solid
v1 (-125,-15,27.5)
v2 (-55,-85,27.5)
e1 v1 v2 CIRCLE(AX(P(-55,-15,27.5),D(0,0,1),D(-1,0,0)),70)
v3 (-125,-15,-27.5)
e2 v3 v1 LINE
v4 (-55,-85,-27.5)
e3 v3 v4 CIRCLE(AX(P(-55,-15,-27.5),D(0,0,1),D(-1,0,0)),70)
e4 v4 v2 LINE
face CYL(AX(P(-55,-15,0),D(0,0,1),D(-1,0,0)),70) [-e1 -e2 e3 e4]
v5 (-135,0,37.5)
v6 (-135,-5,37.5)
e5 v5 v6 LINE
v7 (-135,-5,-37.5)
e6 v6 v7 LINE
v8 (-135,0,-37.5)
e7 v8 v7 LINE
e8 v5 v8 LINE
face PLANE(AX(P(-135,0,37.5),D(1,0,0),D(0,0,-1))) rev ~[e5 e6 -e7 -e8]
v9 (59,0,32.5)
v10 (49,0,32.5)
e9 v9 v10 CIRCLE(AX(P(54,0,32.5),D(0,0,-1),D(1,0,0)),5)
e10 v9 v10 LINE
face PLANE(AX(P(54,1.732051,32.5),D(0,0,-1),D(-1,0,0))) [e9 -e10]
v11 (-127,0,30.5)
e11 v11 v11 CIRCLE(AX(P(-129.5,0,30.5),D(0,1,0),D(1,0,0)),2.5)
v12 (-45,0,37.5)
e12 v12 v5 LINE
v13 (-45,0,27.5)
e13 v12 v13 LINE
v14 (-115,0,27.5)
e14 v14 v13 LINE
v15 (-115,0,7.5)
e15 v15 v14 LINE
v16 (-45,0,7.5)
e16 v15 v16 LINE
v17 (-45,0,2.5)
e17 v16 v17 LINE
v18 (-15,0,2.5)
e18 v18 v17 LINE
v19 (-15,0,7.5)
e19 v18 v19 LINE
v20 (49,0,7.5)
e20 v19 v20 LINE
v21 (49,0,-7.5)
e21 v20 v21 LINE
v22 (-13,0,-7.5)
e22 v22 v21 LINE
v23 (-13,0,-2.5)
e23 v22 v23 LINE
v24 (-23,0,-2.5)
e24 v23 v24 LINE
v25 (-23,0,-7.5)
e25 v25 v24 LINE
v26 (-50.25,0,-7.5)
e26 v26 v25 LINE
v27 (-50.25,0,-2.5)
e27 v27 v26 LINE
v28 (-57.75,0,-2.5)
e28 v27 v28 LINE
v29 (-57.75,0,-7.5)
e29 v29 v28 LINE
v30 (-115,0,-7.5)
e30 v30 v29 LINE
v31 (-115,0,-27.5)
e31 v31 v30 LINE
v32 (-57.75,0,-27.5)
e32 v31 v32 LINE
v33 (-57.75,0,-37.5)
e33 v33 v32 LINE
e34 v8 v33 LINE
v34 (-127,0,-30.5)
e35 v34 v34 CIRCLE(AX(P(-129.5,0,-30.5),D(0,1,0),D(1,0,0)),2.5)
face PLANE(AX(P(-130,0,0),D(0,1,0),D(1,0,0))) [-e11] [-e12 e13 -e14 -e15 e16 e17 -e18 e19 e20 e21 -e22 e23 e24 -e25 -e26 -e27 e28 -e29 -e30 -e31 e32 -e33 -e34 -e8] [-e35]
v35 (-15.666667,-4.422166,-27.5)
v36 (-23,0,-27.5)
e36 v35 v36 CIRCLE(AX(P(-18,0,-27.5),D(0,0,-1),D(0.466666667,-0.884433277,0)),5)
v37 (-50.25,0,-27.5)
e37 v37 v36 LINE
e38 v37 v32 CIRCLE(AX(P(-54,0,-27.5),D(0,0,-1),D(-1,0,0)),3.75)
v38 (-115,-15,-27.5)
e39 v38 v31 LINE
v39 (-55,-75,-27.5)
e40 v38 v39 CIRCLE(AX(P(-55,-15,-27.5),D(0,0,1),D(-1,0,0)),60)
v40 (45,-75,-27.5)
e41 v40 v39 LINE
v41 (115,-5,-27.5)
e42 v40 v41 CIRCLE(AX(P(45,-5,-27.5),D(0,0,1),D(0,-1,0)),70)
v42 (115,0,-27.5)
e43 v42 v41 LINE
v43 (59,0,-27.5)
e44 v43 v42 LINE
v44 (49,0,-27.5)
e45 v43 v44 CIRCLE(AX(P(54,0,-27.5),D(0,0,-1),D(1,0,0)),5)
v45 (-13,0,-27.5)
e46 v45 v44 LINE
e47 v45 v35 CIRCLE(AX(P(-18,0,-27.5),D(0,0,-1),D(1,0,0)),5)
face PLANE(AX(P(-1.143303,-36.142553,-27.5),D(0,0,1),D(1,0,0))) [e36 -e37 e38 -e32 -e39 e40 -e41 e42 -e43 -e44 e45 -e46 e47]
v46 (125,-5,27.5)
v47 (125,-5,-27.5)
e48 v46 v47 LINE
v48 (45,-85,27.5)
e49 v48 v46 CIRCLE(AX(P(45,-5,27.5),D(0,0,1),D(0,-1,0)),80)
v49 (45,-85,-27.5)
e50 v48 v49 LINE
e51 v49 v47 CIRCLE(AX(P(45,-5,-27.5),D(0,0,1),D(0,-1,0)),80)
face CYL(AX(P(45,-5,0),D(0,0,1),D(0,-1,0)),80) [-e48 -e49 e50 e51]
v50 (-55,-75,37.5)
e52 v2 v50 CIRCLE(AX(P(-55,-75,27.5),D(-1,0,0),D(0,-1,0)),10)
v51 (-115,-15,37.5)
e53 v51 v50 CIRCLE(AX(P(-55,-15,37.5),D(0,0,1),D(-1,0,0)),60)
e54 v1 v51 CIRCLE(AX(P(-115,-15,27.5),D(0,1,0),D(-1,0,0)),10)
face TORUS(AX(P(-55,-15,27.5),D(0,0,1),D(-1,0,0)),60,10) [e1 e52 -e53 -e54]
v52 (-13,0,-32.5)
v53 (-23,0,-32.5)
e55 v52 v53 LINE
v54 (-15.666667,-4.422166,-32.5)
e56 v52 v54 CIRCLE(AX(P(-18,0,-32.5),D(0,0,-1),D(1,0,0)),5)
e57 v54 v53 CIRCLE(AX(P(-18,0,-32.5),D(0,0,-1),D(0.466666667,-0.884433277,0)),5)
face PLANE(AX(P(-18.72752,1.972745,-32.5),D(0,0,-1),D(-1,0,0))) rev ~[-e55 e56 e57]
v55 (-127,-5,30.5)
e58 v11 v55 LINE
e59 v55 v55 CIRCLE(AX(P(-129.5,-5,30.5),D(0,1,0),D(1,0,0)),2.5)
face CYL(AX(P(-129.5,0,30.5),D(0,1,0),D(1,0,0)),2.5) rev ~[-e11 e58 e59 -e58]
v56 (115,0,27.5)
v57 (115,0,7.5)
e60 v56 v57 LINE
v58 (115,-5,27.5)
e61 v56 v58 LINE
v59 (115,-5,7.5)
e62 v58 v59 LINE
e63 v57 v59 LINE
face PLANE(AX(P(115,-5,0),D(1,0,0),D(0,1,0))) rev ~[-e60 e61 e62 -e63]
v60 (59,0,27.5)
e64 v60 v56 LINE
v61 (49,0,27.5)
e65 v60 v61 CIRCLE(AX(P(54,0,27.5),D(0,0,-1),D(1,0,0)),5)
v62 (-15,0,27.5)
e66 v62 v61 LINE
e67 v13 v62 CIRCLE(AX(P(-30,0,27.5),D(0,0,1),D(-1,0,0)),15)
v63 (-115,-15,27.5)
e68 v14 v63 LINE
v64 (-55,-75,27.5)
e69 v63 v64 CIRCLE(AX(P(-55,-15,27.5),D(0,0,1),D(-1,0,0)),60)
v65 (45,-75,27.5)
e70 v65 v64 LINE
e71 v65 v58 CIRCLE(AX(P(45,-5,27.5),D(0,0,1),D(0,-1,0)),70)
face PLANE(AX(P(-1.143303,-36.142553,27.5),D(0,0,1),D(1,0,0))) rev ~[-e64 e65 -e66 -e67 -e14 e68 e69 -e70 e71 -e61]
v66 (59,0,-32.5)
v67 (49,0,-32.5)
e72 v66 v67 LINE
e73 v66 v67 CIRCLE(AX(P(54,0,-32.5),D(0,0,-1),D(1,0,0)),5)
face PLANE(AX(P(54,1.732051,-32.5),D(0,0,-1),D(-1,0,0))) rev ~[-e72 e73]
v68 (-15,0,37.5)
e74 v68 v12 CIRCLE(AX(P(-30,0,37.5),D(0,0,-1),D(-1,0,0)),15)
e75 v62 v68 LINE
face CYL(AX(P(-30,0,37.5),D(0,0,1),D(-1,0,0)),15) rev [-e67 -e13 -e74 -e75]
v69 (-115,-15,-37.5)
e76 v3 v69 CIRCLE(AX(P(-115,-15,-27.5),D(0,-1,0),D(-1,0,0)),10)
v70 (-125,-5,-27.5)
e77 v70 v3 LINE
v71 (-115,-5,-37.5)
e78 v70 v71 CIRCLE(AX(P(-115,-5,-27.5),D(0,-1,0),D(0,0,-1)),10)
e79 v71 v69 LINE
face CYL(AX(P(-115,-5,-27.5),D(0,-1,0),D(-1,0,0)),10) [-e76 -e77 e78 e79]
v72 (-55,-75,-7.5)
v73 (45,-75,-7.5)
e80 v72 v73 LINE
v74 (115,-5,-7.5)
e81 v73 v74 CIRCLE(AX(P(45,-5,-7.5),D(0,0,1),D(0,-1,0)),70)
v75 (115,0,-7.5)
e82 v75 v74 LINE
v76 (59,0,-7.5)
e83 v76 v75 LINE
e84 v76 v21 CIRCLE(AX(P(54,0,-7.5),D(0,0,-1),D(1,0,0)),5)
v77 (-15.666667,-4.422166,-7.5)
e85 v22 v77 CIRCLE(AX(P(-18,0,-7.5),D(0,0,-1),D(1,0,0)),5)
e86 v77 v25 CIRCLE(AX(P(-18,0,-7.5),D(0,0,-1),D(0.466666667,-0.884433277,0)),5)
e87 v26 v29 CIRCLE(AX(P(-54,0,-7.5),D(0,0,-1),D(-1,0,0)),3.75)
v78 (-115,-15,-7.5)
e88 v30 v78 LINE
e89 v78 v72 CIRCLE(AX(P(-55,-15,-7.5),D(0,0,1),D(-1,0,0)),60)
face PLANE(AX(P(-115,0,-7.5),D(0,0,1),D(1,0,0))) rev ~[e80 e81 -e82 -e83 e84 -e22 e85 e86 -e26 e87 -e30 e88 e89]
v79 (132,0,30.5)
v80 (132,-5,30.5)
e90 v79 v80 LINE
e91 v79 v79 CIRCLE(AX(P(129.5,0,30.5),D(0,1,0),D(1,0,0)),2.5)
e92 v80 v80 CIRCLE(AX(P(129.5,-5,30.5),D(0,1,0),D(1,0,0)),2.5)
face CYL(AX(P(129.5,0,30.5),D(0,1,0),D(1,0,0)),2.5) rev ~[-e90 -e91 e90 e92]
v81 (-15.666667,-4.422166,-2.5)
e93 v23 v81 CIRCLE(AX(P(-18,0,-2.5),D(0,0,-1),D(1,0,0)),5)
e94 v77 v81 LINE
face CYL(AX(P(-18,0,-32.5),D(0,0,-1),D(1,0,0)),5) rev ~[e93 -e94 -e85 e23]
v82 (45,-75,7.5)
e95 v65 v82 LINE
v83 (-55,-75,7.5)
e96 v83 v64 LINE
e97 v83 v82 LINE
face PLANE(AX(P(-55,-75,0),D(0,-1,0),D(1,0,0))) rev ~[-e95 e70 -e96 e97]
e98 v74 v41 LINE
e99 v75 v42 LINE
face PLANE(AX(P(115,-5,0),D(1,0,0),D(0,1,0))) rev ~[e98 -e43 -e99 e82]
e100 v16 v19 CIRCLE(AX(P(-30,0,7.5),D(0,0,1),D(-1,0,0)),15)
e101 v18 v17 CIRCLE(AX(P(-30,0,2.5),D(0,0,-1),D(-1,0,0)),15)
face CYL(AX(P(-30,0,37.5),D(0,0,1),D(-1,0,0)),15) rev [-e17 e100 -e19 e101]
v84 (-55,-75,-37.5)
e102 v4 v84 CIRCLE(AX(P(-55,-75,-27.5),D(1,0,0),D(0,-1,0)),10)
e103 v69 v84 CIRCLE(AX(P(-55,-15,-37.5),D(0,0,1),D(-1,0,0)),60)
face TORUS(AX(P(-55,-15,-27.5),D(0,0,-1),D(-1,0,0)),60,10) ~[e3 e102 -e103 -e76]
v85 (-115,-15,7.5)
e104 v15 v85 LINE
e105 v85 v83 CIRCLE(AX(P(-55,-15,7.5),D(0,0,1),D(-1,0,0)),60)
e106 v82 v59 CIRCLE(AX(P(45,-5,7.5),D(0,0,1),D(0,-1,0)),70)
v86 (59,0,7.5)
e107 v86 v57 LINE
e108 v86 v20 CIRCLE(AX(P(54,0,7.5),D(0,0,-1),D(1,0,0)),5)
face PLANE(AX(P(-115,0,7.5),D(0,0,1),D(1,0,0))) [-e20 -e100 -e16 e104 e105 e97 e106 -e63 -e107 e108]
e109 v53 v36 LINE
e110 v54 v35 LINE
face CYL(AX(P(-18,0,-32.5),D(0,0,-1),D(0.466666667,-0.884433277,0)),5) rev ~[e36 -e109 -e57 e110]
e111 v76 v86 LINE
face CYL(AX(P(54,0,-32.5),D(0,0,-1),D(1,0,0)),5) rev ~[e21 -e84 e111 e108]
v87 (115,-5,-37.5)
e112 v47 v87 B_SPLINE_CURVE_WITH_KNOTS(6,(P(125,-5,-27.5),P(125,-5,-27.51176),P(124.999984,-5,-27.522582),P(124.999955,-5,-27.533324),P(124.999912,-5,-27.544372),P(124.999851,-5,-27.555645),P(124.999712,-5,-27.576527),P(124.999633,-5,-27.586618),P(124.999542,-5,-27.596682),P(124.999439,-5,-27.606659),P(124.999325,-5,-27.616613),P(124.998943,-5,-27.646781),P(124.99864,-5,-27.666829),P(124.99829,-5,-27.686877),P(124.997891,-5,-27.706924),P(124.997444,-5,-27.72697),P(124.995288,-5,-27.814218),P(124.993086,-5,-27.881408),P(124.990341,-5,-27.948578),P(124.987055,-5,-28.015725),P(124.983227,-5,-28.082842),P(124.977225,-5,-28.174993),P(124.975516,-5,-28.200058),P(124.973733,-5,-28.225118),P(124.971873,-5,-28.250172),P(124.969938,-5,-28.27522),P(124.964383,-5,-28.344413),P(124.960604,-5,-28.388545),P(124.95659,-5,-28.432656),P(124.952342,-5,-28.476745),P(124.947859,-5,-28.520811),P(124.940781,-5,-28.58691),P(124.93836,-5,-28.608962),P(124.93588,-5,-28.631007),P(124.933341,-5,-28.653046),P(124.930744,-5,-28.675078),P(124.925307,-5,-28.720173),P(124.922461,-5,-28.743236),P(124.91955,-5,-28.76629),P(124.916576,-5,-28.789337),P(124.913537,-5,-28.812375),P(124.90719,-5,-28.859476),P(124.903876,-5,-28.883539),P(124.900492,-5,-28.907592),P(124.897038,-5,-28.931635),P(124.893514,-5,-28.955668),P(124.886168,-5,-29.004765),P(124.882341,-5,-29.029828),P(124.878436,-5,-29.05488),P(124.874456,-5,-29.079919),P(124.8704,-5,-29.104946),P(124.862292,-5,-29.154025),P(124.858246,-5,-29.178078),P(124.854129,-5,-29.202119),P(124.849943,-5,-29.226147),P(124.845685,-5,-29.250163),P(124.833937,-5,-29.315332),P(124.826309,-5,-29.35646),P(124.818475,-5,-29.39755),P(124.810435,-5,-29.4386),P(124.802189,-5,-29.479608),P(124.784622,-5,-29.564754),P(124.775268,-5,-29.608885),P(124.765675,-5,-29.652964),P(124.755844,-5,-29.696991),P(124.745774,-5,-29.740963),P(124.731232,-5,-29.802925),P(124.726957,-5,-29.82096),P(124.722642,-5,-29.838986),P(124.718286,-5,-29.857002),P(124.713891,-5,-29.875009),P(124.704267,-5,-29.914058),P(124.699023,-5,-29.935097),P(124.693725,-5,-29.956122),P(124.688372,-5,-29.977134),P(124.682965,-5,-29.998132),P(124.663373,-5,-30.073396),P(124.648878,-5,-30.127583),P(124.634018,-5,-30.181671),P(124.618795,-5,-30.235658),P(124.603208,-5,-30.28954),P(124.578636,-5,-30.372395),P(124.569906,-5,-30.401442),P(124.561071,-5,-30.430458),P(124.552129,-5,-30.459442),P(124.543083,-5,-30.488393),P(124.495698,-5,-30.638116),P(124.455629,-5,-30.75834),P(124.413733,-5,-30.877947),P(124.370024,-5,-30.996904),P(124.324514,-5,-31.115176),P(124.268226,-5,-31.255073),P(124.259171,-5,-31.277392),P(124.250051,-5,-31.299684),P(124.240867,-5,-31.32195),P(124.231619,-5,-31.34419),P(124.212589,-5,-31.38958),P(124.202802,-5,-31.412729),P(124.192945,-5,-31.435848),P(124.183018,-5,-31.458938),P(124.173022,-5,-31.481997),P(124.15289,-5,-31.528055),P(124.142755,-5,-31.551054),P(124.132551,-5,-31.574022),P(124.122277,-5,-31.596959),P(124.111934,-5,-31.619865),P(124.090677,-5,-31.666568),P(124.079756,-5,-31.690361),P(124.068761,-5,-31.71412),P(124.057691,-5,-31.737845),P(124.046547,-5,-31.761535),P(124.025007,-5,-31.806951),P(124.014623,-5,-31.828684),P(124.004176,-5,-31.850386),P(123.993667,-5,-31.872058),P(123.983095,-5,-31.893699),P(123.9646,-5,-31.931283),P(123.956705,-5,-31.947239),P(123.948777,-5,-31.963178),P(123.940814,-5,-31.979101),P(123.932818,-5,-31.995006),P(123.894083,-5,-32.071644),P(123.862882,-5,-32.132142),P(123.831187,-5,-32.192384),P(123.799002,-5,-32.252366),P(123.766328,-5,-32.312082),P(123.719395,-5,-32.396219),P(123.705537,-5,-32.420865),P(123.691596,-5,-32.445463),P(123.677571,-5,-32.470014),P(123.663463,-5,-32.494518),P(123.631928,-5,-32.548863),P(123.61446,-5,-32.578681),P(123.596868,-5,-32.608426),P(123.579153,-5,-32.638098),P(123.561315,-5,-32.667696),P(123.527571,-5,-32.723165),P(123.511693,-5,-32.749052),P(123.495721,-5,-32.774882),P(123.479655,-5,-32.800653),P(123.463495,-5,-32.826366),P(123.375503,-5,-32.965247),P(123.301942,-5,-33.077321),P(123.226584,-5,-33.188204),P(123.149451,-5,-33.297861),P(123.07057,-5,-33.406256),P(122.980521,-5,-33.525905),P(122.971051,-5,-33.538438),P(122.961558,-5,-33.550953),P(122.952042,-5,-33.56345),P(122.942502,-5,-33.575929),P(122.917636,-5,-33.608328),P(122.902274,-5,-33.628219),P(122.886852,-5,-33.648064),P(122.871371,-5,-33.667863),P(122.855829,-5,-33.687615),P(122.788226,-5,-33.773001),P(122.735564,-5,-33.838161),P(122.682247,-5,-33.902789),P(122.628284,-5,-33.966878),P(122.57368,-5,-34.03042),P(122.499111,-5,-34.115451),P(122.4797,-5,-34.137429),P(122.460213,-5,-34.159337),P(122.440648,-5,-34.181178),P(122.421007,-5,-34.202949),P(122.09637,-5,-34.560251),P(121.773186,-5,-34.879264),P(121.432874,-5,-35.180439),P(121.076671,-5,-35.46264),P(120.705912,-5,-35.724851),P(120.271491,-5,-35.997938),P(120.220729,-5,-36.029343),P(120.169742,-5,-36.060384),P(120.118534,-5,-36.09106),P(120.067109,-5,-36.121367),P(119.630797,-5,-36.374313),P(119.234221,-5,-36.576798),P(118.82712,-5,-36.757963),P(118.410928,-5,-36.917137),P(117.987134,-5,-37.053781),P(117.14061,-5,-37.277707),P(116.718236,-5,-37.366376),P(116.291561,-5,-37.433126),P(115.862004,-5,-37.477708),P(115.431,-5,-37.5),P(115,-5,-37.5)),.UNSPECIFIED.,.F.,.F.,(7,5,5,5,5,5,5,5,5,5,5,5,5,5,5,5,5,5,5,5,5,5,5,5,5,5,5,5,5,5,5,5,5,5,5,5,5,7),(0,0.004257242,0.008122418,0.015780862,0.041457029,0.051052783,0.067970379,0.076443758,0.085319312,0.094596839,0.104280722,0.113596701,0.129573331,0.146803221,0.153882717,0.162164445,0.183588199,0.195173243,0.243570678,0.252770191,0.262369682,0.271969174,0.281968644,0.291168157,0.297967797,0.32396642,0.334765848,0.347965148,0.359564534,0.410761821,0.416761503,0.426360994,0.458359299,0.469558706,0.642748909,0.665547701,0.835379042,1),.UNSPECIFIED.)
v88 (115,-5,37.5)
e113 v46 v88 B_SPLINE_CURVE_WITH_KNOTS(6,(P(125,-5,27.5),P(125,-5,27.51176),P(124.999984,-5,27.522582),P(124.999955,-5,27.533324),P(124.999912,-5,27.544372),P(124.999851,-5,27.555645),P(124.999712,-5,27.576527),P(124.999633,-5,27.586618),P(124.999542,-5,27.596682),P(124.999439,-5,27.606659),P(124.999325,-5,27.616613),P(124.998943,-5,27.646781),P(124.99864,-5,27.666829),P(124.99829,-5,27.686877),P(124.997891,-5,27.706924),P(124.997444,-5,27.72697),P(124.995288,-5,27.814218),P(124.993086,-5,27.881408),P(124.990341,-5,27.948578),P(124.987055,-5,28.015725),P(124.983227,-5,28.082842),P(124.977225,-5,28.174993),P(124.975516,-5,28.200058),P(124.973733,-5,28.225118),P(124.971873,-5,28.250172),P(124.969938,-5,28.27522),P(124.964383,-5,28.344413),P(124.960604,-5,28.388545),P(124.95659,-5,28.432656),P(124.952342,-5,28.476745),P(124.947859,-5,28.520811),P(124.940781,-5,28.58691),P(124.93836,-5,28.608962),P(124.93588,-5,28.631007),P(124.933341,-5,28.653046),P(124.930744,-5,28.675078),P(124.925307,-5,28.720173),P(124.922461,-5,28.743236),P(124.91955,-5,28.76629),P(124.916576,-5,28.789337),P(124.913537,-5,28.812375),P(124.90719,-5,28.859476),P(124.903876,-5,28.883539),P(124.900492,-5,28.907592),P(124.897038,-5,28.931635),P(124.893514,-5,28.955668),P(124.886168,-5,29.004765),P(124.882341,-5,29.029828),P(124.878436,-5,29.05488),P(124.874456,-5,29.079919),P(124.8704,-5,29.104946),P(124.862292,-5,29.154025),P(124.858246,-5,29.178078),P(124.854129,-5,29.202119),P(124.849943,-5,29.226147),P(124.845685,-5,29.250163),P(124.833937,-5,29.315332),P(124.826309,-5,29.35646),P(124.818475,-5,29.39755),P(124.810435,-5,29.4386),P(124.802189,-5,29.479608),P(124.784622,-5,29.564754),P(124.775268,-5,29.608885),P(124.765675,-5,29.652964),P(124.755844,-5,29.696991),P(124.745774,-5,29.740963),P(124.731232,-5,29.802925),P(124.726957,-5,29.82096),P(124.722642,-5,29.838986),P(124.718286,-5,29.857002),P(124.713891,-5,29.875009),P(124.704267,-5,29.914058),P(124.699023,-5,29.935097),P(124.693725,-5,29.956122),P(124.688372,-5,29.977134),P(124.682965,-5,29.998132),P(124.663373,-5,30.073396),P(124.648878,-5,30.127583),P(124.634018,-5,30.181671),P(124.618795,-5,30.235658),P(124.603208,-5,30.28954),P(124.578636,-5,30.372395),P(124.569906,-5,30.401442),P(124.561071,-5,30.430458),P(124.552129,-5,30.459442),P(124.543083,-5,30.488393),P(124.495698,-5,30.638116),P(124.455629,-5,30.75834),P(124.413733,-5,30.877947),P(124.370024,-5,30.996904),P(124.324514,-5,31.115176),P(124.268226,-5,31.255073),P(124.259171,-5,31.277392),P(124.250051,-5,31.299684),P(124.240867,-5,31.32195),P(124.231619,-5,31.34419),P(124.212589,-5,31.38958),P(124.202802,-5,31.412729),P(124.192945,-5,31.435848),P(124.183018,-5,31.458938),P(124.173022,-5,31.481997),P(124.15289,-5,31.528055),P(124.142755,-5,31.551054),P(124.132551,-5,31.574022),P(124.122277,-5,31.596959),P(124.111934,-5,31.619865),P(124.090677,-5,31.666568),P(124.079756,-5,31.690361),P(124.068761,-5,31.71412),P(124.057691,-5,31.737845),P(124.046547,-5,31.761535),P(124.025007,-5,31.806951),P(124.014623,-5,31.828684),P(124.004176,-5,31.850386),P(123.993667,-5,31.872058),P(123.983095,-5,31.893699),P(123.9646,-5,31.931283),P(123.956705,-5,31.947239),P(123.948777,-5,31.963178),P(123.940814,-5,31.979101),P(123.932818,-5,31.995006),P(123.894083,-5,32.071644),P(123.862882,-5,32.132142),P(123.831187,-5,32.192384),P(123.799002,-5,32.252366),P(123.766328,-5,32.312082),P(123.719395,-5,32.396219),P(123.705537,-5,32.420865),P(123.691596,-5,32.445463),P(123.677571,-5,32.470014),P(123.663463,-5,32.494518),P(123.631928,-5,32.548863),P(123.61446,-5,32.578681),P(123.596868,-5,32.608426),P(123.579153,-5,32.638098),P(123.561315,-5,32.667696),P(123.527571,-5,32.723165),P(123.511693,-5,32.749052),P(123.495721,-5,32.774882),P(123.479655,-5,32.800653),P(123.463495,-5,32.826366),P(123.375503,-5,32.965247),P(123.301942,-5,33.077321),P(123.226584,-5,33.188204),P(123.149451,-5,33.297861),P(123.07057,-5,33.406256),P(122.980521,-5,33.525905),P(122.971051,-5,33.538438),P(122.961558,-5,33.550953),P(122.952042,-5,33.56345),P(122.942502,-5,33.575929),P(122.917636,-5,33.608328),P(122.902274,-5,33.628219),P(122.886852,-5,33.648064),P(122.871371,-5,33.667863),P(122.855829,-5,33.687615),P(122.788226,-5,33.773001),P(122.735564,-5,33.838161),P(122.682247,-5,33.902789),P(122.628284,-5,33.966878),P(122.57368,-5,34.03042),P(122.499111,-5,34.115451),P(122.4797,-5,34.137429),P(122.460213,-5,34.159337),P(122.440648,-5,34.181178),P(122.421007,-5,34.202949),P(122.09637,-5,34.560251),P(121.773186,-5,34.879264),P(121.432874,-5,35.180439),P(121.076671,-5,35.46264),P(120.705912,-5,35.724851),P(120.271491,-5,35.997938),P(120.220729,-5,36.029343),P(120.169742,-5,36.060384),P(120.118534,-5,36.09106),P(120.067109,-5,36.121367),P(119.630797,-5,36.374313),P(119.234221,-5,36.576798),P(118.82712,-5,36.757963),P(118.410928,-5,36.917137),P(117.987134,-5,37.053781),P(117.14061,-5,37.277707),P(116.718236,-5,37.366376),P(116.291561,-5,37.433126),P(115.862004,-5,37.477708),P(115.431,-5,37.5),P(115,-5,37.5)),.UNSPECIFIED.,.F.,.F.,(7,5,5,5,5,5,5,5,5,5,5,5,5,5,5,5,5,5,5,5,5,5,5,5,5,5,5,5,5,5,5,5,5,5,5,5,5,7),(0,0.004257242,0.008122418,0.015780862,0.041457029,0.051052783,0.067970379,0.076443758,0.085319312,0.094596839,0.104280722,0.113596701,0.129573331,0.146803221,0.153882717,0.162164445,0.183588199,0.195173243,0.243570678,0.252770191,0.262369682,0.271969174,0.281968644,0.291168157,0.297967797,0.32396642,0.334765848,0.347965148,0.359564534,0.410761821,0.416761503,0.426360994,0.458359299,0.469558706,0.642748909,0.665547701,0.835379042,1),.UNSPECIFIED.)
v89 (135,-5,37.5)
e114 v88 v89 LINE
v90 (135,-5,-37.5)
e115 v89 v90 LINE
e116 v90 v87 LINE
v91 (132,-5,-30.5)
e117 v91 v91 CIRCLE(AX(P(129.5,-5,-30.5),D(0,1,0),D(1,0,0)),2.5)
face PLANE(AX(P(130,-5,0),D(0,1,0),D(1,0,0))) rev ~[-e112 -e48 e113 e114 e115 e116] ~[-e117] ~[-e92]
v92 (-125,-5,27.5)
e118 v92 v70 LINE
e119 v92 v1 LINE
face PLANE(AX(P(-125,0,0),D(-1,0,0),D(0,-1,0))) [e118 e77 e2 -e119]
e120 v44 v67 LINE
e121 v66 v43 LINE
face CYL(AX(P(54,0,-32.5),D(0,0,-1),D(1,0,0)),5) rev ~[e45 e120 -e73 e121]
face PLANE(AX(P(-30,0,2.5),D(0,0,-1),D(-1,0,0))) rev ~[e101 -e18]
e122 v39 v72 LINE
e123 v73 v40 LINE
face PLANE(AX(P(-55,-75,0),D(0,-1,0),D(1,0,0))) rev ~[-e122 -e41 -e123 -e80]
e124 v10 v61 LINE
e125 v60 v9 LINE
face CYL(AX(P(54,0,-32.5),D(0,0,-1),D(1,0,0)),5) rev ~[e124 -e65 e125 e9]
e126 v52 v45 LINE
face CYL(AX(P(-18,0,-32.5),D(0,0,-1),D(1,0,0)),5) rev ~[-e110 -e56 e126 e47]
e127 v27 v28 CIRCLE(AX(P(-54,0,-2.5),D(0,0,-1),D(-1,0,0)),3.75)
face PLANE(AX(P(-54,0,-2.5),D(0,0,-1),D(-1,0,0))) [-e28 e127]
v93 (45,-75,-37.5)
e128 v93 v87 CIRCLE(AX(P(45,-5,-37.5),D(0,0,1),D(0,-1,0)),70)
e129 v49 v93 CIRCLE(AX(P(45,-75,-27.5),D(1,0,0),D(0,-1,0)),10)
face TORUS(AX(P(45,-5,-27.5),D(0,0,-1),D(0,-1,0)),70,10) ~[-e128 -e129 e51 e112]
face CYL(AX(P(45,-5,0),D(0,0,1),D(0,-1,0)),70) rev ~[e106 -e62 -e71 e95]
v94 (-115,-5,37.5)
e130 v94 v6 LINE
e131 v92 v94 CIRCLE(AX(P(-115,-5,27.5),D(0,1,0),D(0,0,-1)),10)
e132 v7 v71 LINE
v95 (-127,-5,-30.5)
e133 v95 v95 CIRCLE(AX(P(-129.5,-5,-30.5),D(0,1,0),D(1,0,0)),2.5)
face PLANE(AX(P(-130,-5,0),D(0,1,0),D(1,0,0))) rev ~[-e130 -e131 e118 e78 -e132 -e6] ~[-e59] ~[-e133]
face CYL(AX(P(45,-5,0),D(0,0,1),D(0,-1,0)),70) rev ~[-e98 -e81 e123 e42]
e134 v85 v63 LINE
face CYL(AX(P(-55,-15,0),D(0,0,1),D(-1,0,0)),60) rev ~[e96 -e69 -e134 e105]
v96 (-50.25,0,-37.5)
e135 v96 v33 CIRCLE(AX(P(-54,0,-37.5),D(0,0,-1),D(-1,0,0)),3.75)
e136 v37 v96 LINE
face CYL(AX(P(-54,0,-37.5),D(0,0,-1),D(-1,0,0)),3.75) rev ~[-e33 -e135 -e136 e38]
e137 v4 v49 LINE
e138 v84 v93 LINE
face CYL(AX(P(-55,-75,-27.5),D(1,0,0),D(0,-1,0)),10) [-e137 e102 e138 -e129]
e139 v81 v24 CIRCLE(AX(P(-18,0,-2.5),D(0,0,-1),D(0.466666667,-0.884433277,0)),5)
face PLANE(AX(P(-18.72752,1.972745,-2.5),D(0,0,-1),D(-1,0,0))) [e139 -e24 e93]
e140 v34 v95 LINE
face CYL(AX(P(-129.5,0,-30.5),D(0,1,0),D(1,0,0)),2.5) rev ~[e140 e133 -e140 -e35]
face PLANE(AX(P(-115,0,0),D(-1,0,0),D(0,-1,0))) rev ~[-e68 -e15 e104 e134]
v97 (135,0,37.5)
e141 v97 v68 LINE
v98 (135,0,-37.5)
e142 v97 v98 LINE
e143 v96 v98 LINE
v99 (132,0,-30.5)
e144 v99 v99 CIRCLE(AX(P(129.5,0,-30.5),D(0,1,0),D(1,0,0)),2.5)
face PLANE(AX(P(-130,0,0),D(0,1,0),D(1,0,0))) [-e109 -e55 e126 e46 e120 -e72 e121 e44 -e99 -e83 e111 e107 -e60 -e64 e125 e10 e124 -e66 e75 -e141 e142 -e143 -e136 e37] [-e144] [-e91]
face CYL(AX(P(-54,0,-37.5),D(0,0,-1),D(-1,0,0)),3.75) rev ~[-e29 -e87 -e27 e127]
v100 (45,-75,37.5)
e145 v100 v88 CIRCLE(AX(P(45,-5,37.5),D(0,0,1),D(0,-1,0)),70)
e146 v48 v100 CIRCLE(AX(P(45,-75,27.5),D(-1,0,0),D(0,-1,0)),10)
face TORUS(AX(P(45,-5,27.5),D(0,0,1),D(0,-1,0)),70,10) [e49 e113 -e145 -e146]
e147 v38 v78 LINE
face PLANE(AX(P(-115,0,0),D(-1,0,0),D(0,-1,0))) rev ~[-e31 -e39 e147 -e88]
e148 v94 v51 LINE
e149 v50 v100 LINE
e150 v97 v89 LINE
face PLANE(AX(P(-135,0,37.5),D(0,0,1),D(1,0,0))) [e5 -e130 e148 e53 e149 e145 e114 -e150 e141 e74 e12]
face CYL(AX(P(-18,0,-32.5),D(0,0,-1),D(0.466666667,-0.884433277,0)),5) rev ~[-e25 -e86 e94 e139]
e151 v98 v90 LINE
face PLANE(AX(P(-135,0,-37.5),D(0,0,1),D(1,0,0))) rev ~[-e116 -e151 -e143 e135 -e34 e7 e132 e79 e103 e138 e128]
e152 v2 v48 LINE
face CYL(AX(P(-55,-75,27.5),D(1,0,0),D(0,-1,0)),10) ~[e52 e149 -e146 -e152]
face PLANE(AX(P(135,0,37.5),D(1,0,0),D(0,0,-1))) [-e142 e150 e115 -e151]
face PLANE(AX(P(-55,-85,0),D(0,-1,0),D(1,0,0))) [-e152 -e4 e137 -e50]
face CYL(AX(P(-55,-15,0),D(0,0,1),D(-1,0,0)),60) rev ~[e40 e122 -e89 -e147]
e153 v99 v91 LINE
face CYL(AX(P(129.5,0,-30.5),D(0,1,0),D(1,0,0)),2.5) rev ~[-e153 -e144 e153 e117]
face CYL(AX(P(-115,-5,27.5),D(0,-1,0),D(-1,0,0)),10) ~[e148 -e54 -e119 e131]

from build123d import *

# Parameters (mm, degrees)
BOSS_EXTRUDE1_DEPTH     = 37.5
SHELL1_T                = -10
SKETCH2_W               = 230
SKETCH2_H               = 15
BOSS_EXTRUDE3_DEPTH     = 75
SKETCH1_4_OUTSIDE_W     = 306.9
SKETCH1_4_OUTSIDE_H     = 141.9
CUT_EXTRUDE2_DEPTH      = 38.5
CUT_EXTRUDE2_DEPTH_BACK = 38.5
SKETCH4_W               = 10
SKETCH4_H               = 75
SKETCH4_R               = 2.5
BOSS_EXTRUDE4_DEPTH     = 5
FILLET1_R               = 10
SKETCH3_R               = 3.75
CUT_EXTRUDE3_DEPTH      = 35
CUT_EXTRUDE4_START      = -75
SKETCH3_13_R            = 15
CUT_EXTRUDE4_DEPTH      = 35
CUT_EXTRUDE5_START      = -5
CUT_EXTRUDE5_DEPTH      = 65
CUT_EXTRUDE6_START      = -5
CUT_EXTRUDE6_DEPTH      = 30


with BuildPart() as part:
    # Sketch1 → Boss-Extrude1 (new body, symmetric)
    with BuildSketch(Plane.XY):
        with BuildLine():
            Line((125, 0), (-125, 0))
            Line((-125, 0), (-125, -15))
            ThreePointArc((-125, -15), (-104.497474683, -64.497474683), (-55, -85))
            Line((-55, -85), (45, -85))
            ThreePointArc((45, -85), (101.568542495, -61.568542495), (125, -5))
            Line((125, -5), (125, 0))
        make_face()
    extrude(amount=BOSS_EXTRUDE1_DEPTH, both=True)

    # Shell1
    shell1_openings = [part.faces().sort_by_distance(p)[0] for p in [
        (0, 0, 0),
    ]]
    offset(amount=SHELL1_T, openings=shell1_openings, kind=Kind.INTERSECTION)

    # Sketch2 → Boss-Extrude3 (add)
    with BuildSketch(Plane(origin=(0, 0, 0), x_dir=(1, 0, 0), z_dir=(0, 1, 0))):
        Rectangle(SKETCH2_W, SKETCH2_H)
    extrude(amount=-BOSS_EXTRUDE3_DEPTH)

    # Sketch1<4> outside → Cut-Extrude2 (cut, two sides)
    with BuildSketch(Plane.XY) as cut_extrude2_sk:
        with Locations((0, -42.5)):
            Rectangle(SKETCH1_4_OUTSIDE_W, SKETCH1_4_OUTSIDE_H)
        with BuildLine():
            Line((125, 0), (-125, 0))
            Line((-125, 0), (-125, -15))
            ThreePointArc((-125, -15), (-104.497474683, -64.497474683), (-55, -85))
            Line((-55, -85), (45, -85))
            ThreePointArc((45, -85), (101.568542495, -61.568542495), (125, -5))
            Line((125, -5), (125, 0))
        make_face(mode=Mode.SUBTRACT)
    extrude(amount=CUT_EXTRUDE2_DEPTH, mode=Mode.SUBTRACT)
    extrude(cut_extrude2_sk.sketch, amount=-CUT_EXTRUDE2_DEPTH_BACK, mode=Mode.SUBTRACT)

    # Sketch4 → Boss-Extrude4 (add)
    with BuildSketch(Plane(origin=(0, 0, 0), x_dir=(1, 0, 0), z_dir=(0, 1, 0))):
        with Locations((-130, 0)):
            Rectangle(SKETCH4_W, SKETCH4_H)
        with Locations((-129.5, -30.5)):
            Circle(SKETCH4_R, mode=Mode.SUBTRACT)
        with Locations((-129.5, 30.5)):
            Circle(SKETCH4_R, mode=Mode.SUBTRACT)
        with Locations((130, 0)):
            Rectangle(SKETCH4_W, SKETCH4_H)
        with Locations((129.5, 30.5)):
            Circle(SKETCH4_R, mode=Mode.SUBTRACT)
        with Locations((129.5, -30.5)):
            Circle(SKETCH4_R, mode=Mode.SUBTRACT)
    extrude(amount=-BOSS_EXTRUDE4_DEPTH)

    # Fillet1
    fillet1_edges = [part.edges().sort_by_distance(p)[0] for p in [
        (-125, -10, -37.5),
        (-125, -10, 37.5),
        (-5, -85, 37.5),
        (-104.497474683, -64.497474683, 37.5),
        (-104.497474683, -64.497474683, -37.5),
        (-5, -85, -37.5),
        (101.568542495, -61.568542495, -37.5),
        (101.568542495, -61.568542495, 37.5),
    ]]
    fillet(fillet1_edges, radius=FILLET1_R)

    # Sketch3 → Cut-Extrude3 (cut)
    with BuildSketch(Plane(origin=(0, 0, -37.5), x_dir=(-1, 0, 0), z_dir=(0, 0, -1))):
        with Locations((54, 0)):
            Circle(SKETCH3_R)
    extrude(amount=-CUT_EXTRUDE3_DEPTH, mode=Mode.SUBTRACT)

    # Sketch3<13> → Cut-Extrude4 (cut)
    with BuildSketch(Plane(origin=(0, 0, -37.5), x_dir=(-1, 0, 0), z_dir=(0, 0, -1)).offset(CUT_EXTRUDE4_START)):
        with Locations((30, 0)):
            Circle(SKETCH3_13_R)
    extrude(amount=CUT_EXTRUDE4_DEPTH, mode=Mode.SUBTRACT)

    # Sketch3<14> → Cut-Extrude5 (cut)
    with BuildSketch(Plane(origin=(0, 0, -37.5), x_dir=(-1, 0, 0), z_dir=(0, 0, -1)).offset(CUT_EXTRUDE5_START)):
        with BuildLine():
            Line((-59, 0), (-49, 0))
            ThreePointArc((-49, 0), (-54, 5), (-59, 0))
        make_face()
        with BuildLine():
            ThreePointArc((-59, 0), (-54, -5), (-49, 0))
            Line((-49, 0), (-59, 0))
        make_face()
    extrude(amount=-CUT_EXTRUDE5_DEPTH, mode=Mode.SUBTRACT)

    # Sketch3<15> → Cut-Extrude6 (cut)
    with BuildSketch(Plane(origin=(0, 0, -37.5), x_dir=(-1, 0, 0), z_dir=(0, 0, -1)).offset(CUT_EXTRUDE6_START)):
        with BuildLine():
            Line((15, 0), (23, 0))
            ThreePointArc((23, 0), (20.581988897, 4.281744193), (15.666666667, 4.422166387))
            ThreePointArc((15.666666667, 4.422166387), (15.167603026, 2.236067977), (15, 0))
        make_face()
        with BuildLine():
            ThreePointArc((15.666666667, -4.422166387), (20.581988897, -4.281744193), (23, 0))
            Line((23, 0), (15, 0))
            ThreePointArc((15, 0), (15.167603026, -2.236067977), (15.666666667, -4.422166387))
        make_face()
        with BuildLine():
            ThreePointArc((15, 0), (15.167603026, 2.236067977), (15.666666667, 4.422166387))
            ThreePointArc((15.666666667, 4.422166387), (13.718255807, 2.581988897), (13, 0))
            Line((13, 0), (15, 0))
        make_face()
        with BuildLine():
            ThreePointArc((13, 0), (13.718255807, -2.581988897), (15.666666667, -4.422166387))
            ThreePointArc((15.666666667, -4.422166387), (15.167603026, -2.236067977), (15, 0))
            Line((15, 0), (13, 0))
        make_face()
    extrude(amount=-CUT_EXTRUDE6_DEPTH, mode=Mode.SUBTRACT)


solid = part.part
